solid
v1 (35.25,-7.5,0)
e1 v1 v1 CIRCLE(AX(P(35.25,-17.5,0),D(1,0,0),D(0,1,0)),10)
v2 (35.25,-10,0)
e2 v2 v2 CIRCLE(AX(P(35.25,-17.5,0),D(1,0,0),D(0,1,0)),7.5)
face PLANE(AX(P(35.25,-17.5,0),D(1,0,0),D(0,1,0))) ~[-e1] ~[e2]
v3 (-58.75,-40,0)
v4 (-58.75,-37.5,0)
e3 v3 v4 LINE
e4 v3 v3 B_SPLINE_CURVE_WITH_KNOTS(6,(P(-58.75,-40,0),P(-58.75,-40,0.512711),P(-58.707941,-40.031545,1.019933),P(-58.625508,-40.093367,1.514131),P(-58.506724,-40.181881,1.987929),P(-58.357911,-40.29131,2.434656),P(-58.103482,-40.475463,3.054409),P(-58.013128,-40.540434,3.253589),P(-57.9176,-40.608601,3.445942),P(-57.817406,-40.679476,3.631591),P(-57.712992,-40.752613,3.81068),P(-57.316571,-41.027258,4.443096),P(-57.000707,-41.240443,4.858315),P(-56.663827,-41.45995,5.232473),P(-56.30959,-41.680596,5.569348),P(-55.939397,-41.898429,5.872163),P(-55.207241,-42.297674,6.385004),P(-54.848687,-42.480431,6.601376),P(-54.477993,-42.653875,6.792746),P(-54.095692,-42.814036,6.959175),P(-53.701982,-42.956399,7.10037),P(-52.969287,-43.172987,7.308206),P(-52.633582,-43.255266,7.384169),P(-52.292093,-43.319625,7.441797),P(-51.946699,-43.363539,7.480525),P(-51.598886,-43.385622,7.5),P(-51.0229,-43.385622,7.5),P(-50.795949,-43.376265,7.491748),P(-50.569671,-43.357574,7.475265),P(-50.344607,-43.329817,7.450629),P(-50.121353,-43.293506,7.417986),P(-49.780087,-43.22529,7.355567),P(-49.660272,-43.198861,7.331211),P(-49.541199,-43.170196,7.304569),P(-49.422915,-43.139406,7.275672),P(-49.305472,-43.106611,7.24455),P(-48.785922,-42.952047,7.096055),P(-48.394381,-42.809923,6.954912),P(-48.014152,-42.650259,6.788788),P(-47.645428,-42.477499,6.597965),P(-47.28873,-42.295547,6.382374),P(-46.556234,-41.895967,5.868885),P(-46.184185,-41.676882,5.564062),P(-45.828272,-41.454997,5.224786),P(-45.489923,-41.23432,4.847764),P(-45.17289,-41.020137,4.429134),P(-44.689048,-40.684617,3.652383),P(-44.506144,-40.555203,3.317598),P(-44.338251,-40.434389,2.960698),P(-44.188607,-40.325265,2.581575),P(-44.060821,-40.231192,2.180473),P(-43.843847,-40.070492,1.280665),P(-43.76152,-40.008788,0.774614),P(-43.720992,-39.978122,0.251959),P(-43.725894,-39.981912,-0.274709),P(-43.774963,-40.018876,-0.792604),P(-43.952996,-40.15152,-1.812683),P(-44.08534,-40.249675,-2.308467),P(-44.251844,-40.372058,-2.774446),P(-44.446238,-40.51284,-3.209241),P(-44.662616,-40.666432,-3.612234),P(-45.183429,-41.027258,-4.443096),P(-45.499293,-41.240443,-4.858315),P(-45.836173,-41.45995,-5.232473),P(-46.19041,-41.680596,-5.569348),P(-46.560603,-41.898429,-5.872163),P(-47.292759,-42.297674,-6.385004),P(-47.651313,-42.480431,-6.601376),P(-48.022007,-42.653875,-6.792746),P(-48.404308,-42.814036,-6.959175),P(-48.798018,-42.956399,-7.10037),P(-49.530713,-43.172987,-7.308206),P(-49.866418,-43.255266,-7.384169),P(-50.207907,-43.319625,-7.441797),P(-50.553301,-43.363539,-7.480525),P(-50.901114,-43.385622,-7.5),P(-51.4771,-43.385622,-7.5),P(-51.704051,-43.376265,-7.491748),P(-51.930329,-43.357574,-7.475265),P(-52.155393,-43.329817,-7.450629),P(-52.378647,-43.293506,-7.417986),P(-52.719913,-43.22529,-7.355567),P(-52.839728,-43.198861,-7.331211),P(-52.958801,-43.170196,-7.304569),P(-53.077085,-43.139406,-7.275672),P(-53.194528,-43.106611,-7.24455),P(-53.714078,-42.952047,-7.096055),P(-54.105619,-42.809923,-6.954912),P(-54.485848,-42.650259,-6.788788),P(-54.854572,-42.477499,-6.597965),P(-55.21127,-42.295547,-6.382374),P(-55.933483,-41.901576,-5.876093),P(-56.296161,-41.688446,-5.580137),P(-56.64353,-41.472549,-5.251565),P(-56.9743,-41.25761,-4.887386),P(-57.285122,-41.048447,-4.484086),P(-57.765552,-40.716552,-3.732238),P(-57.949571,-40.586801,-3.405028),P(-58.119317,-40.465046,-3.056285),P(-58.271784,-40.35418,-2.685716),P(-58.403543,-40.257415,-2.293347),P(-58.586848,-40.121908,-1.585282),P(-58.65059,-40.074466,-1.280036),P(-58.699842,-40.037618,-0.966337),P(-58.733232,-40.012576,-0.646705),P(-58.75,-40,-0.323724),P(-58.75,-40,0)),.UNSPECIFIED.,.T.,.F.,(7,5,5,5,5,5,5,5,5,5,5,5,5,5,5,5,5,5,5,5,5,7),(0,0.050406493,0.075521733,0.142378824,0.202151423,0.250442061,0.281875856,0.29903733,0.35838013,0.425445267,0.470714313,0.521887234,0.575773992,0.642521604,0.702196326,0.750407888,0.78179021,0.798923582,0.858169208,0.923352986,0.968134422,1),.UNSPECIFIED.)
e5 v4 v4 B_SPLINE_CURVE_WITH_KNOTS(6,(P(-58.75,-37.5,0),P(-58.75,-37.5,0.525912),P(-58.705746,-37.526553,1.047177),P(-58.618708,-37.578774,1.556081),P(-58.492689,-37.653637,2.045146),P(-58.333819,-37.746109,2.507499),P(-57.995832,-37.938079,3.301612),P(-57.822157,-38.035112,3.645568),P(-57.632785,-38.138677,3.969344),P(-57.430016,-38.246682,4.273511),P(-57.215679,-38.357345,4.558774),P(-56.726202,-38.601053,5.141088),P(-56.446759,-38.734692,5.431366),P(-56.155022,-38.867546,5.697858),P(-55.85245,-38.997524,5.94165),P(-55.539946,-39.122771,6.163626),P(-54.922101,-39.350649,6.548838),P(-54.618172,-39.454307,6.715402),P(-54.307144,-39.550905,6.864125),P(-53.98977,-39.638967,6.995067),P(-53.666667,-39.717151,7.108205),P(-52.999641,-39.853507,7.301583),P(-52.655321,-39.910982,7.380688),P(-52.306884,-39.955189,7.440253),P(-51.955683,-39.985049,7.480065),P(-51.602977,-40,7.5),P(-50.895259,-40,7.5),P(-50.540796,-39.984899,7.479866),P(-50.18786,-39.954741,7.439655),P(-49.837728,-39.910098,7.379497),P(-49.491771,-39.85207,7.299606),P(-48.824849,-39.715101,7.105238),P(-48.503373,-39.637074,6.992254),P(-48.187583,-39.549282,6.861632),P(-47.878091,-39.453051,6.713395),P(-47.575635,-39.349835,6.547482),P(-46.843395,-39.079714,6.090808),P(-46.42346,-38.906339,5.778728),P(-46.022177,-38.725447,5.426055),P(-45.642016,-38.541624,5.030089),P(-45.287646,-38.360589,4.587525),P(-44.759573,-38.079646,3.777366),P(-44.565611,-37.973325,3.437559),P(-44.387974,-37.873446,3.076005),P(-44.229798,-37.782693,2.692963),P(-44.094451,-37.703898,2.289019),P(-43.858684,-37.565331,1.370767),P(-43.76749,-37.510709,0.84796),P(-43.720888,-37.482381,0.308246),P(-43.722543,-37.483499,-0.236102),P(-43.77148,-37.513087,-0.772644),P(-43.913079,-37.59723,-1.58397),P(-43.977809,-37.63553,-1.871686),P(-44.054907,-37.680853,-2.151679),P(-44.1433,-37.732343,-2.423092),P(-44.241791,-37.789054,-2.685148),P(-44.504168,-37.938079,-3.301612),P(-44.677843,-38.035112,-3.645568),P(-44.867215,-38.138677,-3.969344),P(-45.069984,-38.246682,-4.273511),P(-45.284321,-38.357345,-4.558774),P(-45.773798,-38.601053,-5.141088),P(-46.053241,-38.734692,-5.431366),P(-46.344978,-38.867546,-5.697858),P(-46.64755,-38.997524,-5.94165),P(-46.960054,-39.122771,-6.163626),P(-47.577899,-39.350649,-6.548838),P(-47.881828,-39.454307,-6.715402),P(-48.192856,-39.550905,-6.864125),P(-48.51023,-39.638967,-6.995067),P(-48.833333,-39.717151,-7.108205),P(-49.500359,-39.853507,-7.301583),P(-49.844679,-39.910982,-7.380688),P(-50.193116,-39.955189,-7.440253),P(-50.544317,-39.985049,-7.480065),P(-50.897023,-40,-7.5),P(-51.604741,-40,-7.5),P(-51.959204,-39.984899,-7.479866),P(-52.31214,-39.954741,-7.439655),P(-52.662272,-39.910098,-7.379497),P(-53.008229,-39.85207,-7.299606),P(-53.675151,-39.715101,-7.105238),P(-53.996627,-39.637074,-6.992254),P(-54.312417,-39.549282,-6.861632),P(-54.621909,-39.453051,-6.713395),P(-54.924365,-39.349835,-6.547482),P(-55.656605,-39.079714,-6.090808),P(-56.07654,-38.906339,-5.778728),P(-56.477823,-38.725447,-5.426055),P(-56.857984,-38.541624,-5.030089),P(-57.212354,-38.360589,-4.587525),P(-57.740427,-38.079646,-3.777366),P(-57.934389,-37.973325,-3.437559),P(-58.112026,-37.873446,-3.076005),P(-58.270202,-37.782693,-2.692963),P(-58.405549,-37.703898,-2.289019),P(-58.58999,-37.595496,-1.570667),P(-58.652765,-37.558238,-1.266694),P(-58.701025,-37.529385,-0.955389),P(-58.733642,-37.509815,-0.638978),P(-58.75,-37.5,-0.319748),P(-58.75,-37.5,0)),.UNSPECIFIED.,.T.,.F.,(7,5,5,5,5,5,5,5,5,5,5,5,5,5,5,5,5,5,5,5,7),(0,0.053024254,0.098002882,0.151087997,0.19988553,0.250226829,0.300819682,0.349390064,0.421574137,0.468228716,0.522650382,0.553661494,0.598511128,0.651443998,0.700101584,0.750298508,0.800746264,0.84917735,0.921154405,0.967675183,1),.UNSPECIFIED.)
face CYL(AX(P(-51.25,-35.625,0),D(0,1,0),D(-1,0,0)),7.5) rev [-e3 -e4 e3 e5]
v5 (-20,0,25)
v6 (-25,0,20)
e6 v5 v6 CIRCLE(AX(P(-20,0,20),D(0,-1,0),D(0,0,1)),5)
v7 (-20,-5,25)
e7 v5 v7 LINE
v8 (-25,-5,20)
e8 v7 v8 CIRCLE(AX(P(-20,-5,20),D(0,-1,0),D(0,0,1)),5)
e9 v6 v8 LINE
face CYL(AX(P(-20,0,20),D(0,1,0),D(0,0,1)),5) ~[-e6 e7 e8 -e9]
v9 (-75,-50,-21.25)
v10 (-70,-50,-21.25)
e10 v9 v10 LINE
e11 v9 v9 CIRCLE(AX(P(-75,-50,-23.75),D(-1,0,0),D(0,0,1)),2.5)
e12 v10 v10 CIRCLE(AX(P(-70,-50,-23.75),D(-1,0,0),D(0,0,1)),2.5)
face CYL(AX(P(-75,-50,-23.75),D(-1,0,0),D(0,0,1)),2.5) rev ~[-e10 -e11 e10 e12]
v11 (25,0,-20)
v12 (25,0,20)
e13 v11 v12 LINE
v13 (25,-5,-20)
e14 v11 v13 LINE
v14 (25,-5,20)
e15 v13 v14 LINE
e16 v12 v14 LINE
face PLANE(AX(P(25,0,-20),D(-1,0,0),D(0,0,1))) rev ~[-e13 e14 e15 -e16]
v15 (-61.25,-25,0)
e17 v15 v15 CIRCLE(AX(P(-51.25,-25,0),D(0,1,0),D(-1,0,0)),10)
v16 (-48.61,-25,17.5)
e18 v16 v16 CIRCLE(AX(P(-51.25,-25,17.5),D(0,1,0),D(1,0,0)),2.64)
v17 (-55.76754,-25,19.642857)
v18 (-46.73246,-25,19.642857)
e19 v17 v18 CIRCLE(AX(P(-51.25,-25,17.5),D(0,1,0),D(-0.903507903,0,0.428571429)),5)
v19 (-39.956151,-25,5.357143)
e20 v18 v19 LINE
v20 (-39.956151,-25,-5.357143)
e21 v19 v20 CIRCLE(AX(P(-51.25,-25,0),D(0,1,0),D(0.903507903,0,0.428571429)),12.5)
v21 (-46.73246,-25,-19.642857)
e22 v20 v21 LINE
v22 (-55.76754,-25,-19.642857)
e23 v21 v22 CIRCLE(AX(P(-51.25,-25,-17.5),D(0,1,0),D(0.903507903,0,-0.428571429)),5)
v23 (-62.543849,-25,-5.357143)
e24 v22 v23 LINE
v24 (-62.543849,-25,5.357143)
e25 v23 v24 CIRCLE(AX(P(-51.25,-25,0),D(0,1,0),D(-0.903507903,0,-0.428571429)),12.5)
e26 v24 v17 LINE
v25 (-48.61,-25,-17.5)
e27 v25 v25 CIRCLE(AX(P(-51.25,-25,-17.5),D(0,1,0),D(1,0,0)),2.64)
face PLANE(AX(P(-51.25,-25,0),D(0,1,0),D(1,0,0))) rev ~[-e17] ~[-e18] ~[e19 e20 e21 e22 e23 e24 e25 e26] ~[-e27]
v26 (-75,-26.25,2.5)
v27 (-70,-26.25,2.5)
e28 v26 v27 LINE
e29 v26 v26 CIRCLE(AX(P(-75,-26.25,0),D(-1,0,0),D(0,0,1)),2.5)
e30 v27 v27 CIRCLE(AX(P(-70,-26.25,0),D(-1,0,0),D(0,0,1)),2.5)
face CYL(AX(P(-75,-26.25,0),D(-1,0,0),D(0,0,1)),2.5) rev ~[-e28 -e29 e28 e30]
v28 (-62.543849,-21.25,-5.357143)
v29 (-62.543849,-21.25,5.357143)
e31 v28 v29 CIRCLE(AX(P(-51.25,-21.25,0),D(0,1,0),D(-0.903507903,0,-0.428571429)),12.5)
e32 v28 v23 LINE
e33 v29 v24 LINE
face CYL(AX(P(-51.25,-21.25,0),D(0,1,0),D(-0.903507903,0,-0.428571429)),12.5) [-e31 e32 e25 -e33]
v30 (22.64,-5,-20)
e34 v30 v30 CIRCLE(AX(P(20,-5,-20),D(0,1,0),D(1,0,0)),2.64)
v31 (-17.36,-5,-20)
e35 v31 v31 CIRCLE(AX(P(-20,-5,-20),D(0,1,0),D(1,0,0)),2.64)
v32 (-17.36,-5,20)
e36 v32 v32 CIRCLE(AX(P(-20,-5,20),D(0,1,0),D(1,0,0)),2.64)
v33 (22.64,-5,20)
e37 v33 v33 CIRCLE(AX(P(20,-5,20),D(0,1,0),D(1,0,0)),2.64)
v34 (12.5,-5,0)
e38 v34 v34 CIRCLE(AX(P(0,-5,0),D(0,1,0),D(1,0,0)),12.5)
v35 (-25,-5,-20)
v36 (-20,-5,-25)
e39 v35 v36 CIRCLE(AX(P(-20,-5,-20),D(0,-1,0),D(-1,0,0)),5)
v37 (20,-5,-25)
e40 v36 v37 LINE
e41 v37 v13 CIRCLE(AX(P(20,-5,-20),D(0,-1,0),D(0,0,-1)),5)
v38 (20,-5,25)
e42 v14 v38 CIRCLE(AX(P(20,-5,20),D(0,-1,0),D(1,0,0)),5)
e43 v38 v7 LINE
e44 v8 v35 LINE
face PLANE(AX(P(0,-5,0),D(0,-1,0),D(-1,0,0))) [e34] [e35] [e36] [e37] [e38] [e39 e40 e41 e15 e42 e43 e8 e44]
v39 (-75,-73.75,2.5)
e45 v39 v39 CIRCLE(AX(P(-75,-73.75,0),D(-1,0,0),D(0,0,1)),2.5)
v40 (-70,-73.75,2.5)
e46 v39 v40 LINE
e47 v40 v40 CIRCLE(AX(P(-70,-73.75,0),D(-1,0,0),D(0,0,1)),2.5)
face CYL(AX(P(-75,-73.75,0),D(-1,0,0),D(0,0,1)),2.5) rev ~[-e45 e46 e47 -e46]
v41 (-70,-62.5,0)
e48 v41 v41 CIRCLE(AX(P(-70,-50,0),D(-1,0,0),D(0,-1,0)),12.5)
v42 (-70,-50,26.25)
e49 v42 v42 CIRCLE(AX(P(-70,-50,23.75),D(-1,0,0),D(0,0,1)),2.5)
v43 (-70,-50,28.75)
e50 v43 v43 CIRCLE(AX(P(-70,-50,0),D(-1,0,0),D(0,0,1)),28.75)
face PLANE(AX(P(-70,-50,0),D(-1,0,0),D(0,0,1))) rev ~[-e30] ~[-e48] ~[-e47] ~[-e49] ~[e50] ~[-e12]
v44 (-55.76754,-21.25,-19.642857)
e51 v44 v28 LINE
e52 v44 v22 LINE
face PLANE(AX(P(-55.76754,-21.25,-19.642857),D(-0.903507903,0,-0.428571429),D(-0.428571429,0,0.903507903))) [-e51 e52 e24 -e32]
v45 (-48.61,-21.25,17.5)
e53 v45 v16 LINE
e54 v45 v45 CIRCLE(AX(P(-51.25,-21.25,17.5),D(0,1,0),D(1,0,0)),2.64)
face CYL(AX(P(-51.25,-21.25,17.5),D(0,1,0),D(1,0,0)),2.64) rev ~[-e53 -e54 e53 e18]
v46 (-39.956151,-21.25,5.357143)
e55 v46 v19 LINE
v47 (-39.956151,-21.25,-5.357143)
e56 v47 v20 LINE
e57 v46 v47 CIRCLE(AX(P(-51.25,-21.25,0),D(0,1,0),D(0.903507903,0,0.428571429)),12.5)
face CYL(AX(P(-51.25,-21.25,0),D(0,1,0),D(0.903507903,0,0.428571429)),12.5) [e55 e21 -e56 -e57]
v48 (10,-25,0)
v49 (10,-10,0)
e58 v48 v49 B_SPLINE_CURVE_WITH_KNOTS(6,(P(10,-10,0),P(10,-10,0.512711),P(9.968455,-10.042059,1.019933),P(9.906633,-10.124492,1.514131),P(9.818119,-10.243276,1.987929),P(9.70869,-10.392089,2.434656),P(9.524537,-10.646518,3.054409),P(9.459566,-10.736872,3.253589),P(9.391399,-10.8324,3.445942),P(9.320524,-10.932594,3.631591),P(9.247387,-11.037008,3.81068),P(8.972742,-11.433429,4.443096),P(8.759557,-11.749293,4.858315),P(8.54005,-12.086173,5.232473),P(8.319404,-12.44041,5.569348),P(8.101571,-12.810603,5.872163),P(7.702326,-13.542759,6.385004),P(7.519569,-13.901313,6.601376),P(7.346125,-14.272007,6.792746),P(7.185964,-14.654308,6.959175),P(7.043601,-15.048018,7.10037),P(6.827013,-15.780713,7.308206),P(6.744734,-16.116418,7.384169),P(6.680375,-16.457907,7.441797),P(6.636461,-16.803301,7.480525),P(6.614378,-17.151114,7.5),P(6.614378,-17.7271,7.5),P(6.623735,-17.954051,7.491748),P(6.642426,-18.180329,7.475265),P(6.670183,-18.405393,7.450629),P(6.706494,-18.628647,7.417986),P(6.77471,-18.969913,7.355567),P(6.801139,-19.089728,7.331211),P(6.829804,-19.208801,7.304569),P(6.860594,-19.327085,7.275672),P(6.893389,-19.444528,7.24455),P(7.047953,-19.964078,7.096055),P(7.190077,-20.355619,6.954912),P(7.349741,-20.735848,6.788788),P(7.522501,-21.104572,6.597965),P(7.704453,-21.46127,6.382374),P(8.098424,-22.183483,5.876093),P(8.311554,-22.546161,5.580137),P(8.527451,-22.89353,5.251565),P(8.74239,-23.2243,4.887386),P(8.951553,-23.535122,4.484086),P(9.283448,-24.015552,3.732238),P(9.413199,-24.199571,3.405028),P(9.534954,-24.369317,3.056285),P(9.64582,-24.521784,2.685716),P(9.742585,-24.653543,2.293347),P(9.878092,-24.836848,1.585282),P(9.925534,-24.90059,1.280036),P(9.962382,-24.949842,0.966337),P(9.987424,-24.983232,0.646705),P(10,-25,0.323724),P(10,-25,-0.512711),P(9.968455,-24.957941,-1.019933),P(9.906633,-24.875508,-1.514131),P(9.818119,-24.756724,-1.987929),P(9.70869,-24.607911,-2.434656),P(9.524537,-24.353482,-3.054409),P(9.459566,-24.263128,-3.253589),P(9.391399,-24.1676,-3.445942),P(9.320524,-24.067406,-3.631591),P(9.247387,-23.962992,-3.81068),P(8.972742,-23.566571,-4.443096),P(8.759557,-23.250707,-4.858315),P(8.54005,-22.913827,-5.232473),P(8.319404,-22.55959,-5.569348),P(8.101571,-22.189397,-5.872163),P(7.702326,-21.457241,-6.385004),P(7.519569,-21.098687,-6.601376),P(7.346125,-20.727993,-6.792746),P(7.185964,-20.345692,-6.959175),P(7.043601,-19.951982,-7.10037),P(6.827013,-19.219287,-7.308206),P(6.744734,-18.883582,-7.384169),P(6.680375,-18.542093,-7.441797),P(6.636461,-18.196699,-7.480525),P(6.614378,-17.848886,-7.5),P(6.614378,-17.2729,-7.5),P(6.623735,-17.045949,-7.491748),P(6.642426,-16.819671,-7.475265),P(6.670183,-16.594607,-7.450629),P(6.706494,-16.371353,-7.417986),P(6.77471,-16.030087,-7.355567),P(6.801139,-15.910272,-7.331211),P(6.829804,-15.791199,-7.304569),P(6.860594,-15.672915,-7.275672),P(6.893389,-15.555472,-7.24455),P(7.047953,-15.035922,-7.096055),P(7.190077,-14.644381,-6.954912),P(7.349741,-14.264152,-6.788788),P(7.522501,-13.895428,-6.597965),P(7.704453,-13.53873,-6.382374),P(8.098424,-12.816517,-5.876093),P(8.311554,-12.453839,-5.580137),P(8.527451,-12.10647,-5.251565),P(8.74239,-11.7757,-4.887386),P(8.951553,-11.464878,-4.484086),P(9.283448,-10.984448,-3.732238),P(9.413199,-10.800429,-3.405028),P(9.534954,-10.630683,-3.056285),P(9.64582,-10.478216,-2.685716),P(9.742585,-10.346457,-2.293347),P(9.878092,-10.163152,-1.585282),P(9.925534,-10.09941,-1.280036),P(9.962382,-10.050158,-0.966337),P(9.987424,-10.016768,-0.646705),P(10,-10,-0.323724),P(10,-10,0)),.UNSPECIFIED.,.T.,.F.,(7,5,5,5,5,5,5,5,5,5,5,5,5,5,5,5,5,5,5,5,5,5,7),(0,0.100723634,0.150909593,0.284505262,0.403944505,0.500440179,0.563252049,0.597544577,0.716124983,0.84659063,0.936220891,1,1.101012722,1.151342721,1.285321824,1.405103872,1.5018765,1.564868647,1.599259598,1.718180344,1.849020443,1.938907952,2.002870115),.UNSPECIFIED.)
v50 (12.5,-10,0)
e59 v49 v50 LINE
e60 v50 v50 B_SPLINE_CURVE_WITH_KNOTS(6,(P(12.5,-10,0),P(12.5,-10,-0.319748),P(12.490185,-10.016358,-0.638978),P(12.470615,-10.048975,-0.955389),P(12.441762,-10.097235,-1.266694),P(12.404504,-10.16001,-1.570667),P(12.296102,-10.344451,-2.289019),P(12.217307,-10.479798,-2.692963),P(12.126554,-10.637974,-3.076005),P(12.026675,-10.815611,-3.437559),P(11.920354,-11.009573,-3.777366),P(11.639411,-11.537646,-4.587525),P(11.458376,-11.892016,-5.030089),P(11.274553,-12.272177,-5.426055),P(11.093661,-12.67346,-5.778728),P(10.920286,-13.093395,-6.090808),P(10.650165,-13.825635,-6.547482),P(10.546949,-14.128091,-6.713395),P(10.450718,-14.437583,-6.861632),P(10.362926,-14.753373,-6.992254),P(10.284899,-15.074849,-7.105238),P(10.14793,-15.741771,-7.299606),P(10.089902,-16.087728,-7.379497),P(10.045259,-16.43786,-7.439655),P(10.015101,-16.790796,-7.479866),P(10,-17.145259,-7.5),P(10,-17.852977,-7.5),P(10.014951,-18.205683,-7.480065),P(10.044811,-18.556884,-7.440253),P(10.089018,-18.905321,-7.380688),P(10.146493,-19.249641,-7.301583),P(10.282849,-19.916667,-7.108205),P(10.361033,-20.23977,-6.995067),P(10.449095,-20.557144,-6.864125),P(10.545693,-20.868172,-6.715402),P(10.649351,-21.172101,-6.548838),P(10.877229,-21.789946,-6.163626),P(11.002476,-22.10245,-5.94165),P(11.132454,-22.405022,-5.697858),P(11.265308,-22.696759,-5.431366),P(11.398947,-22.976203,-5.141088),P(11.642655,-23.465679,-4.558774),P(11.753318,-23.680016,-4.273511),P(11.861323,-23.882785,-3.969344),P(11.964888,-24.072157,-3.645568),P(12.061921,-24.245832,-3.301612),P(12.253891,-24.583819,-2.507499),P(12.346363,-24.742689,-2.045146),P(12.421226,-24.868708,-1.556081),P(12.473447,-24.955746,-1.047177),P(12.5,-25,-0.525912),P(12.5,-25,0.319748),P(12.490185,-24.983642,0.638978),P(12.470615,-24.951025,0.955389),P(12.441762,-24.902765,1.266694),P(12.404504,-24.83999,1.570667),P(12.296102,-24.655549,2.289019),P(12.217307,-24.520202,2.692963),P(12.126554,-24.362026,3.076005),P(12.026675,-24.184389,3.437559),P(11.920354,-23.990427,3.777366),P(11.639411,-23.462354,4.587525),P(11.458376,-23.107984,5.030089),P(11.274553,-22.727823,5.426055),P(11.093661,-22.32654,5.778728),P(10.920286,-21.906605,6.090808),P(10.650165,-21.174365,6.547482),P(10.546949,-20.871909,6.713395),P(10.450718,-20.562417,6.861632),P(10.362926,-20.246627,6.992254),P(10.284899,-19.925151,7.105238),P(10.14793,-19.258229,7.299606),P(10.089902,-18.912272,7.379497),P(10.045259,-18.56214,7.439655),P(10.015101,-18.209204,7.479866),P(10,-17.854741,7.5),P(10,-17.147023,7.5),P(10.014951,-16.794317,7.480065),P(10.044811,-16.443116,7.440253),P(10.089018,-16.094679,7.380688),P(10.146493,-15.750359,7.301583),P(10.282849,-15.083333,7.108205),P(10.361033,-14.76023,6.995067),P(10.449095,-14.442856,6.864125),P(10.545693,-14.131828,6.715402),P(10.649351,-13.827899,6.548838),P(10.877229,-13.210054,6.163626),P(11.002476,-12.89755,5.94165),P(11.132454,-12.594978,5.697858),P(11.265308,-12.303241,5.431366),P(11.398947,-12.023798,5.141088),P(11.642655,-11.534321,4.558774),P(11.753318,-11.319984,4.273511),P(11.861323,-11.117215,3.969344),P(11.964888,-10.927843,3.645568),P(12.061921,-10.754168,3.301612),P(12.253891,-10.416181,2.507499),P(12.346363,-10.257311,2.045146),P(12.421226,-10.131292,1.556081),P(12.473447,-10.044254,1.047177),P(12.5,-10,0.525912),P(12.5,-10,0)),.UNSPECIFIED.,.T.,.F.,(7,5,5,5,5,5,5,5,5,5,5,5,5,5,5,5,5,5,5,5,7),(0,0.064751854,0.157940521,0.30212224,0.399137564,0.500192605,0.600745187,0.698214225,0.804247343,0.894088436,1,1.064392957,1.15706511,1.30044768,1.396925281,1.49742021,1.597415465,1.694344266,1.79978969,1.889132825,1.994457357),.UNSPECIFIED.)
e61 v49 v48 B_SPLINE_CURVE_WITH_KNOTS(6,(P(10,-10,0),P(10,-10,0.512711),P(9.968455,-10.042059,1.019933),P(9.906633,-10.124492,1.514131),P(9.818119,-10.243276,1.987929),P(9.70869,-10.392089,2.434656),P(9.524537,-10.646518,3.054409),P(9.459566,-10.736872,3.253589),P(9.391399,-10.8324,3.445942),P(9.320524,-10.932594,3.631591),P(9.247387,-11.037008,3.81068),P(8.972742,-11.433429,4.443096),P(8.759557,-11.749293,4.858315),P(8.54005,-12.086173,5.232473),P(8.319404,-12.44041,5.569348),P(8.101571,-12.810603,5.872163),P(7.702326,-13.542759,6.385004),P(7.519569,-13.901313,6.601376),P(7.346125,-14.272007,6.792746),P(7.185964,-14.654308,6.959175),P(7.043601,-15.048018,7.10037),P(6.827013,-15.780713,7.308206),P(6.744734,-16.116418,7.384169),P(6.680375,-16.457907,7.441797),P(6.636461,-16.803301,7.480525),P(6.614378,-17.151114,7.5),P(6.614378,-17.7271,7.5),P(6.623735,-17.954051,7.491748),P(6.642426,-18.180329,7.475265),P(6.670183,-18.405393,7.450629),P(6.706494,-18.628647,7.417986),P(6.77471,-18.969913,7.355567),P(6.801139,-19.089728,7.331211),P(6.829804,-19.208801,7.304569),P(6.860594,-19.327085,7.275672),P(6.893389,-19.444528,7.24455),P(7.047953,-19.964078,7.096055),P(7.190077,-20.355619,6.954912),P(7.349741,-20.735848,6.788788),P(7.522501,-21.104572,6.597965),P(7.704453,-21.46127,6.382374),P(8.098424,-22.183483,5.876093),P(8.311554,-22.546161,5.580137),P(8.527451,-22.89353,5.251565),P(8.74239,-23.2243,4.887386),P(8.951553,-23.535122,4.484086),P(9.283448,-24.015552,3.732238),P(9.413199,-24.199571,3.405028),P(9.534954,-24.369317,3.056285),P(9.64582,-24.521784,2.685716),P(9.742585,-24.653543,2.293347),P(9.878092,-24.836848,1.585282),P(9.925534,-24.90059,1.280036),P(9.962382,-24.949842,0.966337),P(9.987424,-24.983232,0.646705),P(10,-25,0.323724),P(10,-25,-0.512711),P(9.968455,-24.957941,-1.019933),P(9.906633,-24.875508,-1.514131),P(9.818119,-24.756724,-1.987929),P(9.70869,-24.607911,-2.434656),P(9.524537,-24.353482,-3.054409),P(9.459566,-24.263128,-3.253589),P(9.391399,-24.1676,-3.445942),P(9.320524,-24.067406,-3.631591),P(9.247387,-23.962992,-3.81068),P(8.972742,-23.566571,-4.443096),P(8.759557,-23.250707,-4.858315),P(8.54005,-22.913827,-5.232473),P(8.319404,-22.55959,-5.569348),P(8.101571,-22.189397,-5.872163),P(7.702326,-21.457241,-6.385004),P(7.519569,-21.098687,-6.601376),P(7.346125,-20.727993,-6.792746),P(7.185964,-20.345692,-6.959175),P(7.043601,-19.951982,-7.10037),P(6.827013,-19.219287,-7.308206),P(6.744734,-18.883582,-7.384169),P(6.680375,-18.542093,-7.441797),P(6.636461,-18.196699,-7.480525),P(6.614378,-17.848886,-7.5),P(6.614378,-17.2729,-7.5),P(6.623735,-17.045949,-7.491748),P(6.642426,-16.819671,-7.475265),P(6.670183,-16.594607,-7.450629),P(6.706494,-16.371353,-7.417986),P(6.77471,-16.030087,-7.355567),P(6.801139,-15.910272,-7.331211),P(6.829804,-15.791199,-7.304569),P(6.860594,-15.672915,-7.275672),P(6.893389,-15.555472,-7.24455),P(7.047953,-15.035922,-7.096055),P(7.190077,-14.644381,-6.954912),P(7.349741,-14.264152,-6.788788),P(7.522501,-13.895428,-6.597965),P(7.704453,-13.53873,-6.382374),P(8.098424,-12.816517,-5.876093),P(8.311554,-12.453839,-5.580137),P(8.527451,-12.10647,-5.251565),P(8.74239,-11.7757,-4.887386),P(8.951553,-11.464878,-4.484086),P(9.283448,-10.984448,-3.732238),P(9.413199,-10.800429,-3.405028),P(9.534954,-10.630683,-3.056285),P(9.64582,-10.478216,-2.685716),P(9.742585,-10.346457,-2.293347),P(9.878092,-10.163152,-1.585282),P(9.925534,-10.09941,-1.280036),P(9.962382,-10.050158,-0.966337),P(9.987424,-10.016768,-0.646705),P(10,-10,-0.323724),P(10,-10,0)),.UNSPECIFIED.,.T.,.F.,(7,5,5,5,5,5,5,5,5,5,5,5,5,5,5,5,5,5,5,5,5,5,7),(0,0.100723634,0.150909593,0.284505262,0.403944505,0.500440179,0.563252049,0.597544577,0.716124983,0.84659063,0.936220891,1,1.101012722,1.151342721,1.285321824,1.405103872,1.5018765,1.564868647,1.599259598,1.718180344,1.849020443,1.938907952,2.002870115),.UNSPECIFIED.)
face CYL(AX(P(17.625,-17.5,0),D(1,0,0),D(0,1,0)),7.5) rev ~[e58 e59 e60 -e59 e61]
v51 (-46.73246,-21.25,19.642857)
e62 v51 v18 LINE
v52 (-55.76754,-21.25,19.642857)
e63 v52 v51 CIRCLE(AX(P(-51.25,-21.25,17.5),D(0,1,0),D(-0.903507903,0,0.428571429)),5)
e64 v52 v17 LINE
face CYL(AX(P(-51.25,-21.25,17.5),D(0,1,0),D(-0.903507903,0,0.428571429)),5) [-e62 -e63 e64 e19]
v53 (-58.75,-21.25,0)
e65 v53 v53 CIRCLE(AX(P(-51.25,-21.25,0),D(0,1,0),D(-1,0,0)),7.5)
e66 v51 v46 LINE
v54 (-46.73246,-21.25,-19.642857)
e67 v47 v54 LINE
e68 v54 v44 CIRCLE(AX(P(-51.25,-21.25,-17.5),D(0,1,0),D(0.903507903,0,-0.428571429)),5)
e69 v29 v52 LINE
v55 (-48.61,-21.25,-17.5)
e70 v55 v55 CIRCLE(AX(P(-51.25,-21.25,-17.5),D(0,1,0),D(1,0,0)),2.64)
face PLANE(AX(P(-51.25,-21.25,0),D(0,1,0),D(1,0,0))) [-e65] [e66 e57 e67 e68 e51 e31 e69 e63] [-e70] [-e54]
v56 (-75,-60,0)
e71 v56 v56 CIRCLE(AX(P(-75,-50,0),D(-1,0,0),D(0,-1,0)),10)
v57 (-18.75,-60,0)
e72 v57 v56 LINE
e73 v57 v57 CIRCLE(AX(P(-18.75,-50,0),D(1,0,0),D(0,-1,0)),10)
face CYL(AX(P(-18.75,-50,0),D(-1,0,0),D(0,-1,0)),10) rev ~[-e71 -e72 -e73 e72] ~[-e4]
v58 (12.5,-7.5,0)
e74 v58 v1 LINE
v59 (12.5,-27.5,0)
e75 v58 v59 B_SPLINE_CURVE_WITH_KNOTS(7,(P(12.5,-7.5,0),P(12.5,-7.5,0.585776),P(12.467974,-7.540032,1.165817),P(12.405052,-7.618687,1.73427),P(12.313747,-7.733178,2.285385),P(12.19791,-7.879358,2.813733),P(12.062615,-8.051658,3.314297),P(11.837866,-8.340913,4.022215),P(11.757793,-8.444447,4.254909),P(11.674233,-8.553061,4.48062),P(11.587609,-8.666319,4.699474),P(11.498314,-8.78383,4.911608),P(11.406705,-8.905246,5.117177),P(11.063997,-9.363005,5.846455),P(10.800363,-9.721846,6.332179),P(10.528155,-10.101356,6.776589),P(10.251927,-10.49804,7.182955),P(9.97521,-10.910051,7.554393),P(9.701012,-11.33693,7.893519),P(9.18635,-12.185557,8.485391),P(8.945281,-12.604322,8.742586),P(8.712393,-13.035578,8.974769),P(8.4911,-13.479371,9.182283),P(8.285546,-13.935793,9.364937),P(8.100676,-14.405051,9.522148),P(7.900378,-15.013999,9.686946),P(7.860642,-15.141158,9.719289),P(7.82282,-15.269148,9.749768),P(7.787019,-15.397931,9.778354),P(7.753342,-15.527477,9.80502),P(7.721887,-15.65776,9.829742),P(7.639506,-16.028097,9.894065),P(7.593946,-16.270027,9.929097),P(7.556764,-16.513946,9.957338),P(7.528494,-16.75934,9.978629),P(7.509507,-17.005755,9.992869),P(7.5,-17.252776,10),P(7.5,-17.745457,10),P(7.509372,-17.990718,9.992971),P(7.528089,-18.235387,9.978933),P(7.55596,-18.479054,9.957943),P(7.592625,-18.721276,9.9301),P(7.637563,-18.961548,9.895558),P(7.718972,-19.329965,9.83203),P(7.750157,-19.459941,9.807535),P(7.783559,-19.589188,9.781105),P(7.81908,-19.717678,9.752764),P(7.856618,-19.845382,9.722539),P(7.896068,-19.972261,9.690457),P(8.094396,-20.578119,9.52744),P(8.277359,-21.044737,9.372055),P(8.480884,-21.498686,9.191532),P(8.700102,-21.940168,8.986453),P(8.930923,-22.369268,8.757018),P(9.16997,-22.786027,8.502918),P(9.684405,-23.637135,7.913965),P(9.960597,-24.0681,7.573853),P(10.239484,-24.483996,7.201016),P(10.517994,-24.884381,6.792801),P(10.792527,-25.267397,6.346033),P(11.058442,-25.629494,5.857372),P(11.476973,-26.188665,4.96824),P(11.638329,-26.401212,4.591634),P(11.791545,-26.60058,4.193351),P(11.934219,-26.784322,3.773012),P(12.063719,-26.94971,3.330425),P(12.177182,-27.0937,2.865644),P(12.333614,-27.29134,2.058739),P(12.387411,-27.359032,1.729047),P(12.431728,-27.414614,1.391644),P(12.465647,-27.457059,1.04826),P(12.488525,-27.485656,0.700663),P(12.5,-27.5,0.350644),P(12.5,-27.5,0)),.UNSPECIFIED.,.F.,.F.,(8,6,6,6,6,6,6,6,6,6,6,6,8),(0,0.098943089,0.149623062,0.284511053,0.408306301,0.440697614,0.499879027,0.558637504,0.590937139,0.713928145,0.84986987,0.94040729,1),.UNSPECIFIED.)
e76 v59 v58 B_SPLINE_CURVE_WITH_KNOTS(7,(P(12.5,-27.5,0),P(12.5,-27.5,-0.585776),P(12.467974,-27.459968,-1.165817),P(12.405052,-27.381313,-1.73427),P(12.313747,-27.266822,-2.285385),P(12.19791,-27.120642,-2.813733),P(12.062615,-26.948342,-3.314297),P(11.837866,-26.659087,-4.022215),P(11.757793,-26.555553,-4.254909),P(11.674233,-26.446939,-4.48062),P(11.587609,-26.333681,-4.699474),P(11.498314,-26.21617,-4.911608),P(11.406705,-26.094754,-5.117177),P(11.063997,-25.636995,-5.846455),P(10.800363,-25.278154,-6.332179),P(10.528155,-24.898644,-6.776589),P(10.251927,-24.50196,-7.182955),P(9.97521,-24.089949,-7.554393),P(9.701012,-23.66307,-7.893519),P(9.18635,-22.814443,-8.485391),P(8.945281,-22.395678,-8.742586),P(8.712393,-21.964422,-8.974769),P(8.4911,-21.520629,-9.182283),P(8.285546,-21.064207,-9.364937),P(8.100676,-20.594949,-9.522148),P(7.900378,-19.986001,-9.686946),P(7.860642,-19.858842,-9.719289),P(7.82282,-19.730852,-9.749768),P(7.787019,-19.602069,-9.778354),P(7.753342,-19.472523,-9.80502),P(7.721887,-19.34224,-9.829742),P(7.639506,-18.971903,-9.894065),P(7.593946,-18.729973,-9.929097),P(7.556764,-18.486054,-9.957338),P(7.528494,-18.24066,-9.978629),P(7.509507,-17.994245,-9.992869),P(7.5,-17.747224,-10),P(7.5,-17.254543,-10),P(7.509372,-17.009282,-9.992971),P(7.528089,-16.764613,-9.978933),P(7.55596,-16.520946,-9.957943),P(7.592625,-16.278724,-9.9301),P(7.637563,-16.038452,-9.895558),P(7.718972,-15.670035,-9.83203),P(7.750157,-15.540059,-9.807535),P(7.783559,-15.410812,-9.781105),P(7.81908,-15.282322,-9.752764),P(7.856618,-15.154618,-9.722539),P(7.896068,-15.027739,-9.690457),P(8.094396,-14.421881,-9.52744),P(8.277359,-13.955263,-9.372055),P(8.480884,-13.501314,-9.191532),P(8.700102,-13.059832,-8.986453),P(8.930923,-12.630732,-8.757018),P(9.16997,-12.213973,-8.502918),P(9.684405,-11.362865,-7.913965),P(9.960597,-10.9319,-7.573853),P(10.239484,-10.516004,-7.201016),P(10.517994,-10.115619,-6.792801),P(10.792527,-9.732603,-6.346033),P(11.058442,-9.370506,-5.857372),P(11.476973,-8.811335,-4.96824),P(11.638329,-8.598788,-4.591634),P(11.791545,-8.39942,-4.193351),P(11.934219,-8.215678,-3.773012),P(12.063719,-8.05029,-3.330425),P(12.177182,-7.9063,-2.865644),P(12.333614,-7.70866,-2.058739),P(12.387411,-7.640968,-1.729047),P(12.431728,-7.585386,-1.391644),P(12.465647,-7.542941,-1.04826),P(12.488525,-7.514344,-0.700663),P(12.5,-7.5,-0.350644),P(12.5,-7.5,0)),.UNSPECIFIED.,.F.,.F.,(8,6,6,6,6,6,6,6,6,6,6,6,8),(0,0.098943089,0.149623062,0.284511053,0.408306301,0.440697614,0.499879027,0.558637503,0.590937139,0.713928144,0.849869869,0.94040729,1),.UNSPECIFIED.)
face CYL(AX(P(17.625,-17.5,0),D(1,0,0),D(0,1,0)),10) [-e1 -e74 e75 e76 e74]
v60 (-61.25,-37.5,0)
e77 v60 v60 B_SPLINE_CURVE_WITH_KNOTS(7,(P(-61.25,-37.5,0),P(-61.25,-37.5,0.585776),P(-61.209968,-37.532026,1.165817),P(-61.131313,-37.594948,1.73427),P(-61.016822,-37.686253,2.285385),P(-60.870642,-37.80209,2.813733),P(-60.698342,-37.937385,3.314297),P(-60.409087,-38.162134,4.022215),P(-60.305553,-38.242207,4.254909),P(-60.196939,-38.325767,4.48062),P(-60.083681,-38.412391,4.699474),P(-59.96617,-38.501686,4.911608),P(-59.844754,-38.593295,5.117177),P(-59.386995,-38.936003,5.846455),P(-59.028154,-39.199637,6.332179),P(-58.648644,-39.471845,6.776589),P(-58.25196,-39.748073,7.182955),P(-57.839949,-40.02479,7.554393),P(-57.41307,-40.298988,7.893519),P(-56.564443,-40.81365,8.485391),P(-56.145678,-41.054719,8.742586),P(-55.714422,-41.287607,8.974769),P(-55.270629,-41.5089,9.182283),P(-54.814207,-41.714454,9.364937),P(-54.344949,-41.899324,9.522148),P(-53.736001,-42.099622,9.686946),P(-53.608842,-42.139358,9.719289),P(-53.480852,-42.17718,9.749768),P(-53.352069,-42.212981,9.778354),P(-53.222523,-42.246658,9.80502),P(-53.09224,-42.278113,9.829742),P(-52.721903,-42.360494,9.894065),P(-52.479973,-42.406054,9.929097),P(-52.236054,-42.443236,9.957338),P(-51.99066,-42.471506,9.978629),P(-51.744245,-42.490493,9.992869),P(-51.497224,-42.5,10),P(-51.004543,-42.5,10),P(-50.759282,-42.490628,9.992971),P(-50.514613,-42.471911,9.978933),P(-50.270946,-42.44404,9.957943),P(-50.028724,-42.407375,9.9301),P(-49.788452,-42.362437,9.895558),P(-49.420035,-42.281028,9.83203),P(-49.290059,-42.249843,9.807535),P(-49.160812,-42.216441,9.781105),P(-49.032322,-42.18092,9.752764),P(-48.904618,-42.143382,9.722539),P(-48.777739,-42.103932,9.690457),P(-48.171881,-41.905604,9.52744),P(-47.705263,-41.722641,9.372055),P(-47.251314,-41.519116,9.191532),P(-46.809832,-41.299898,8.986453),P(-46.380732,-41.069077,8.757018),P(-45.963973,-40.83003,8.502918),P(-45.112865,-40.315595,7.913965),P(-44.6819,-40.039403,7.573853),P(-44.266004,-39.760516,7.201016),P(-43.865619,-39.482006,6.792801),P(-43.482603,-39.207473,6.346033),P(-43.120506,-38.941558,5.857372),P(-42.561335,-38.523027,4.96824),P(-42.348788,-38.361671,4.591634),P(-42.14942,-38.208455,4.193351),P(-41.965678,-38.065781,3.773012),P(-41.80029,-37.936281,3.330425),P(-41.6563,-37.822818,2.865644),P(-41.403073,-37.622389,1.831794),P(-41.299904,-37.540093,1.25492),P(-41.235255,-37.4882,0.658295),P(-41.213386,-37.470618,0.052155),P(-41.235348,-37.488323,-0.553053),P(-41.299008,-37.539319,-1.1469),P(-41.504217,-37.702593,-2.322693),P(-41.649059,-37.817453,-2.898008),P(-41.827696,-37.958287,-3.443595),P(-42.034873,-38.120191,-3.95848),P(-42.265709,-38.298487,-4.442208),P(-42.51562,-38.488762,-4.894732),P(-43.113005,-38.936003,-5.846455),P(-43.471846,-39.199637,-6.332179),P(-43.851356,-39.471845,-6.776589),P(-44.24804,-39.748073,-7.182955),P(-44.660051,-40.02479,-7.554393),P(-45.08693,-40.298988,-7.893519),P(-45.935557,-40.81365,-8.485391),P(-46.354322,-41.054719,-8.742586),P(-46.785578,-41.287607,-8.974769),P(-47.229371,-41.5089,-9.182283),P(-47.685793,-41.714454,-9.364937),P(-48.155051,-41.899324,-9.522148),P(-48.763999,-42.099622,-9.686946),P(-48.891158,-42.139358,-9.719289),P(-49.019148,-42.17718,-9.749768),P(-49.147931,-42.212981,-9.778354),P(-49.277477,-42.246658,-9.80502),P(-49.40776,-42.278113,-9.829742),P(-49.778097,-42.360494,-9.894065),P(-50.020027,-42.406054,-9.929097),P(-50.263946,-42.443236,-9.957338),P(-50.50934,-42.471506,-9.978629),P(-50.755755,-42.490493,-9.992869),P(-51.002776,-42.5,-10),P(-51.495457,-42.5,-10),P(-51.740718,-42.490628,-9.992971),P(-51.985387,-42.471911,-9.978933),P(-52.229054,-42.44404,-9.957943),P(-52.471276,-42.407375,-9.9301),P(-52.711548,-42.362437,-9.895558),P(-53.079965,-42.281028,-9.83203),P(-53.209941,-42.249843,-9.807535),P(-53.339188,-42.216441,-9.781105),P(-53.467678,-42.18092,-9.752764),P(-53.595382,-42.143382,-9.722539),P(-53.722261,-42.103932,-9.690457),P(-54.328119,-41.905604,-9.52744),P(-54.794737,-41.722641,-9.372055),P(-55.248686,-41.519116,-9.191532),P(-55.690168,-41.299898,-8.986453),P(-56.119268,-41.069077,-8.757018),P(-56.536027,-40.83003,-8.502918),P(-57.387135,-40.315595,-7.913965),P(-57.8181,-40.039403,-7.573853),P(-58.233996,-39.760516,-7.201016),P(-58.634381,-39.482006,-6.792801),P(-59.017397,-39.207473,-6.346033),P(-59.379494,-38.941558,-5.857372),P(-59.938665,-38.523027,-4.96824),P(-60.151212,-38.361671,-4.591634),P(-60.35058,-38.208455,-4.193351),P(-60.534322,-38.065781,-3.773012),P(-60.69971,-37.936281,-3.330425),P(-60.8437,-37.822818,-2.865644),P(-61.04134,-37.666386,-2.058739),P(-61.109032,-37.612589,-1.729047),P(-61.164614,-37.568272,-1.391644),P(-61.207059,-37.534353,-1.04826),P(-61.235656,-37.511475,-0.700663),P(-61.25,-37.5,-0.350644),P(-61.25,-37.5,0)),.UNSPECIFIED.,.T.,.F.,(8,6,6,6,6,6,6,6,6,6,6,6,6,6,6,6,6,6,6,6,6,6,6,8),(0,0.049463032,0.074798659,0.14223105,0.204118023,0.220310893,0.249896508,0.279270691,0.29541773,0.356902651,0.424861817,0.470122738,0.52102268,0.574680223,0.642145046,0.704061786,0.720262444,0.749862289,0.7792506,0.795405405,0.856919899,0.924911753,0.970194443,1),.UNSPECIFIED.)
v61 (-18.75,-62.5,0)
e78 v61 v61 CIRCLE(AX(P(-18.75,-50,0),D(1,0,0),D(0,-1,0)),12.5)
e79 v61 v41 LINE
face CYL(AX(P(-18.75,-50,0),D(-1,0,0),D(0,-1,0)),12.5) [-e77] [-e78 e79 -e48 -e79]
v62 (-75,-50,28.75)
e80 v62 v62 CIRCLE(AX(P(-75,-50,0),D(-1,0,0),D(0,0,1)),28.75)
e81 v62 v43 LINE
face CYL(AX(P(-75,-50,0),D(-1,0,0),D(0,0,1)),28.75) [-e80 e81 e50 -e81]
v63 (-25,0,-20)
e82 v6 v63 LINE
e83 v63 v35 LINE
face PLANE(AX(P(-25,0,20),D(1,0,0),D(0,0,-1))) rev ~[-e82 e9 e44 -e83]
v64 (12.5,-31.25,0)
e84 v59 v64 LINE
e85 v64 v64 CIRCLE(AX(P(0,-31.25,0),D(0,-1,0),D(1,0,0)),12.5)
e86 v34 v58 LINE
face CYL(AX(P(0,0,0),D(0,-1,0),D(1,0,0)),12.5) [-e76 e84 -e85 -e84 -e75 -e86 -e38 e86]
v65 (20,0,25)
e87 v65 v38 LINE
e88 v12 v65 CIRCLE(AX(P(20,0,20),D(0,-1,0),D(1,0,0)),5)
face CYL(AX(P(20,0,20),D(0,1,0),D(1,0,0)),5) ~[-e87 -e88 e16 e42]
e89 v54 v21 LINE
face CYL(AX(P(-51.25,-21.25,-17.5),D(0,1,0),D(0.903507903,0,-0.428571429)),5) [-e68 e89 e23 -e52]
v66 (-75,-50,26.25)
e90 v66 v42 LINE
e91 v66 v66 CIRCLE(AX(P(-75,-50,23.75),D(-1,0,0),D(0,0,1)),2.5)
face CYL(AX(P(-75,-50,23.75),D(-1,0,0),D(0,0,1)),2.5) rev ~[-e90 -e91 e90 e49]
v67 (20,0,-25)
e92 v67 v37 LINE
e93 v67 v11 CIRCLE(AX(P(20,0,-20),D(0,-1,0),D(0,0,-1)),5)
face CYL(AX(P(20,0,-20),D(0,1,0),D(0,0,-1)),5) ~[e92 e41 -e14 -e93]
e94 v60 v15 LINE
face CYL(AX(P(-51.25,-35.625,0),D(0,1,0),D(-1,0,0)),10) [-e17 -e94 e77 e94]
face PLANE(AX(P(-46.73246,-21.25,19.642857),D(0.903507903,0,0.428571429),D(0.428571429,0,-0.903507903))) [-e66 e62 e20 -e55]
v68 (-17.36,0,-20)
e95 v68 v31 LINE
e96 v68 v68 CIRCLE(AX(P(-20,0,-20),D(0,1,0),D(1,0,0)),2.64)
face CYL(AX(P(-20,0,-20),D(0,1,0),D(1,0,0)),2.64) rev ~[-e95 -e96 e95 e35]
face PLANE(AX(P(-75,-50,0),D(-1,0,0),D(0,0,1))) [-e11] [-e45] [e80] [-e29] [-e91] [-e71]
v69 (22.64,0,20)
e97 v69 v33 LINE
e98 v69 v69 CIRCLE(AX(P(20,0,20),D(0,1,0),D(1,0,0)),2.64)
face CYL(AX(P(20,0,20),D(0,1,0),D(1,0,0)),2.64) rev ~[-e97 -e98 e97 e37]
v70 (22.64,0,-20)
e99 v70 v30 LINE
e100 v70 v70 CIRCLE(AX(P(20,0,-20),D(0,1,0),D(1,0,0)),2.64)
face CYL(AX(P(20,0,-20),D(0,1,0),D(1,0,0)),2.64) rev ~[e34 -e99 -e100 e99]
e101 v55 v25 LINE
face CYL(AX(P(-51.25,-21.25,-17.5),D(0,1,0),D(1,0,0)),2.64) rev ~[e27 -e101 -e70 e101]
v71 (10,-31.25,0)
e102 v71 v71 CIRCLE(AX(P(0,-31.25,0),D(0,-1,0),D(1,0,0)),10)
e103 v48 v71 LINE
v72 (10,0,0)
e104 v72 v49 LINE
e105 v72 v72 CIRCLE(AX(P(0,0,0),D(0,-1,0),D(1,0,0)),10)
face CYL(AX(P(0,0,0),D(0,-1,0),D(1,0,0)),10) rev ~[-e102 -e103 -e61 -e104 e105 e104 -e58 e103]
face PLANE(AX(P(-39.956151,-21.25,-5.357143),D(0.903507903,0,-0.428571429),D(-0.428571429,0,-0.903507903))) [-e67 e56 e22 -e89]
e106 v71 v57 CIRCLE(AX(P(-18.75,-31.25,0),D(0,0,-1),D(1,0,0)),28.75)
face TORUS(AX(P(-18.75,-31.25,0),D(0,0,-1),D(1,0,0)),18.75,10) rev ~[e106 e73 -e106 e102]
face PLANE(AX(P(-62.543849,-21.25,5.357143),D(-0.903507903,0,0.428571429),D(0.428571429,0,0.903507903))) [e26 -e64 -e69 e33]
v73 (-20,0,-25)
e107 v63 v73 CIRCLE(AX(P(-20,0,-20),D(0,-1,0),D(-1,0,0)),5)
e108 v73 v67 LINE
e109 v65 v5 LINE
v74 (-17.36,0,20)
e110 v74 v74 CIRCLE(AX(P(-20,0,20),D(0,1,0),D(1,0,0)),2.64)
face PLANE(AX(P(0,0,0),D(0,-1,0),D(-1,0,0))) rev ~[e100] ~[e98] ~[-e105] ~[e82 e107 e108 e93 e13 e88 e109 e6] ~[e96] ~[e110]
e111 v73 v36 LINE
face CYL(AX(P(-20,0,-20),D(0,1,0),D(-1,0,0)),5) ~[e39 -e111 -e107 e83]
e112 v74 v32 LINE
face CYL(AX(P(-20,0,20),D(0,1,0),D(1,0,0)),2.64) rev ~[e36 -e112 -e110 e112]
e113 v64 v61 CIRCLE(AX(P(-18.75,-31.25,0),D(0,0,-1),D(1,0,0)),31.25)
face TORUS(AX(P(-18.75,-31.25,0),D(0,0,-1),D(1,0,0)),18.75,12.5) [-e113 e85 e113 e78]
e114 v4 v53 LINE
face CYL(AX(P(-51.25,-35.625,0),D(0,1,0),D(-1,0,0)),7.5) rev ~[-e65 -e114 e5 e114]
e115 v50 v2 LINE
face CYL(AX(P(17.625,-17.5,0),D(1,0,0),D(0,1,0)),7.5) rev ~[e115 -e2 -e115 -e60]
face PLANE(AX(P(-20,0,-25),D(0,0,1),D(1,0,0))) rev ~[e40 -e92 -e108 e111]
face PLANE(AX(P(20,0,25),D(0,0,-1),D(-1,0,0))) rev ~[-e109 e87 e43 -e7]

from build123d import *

# Parameters (mm, degrees)
SKETCH1_R           = 12.5
SKETCH1_R_2         = 10
BOSS_EXTRUDE1_START = -5
SKETCH3_R           = 2.64
SKETCH3_R_2         = 12.5
BOSS_EXTRUDE1_DEPTH = 5
SKETCH4_W           = 35.25
SKETCH4_H           = 2.5
SKETCH5_W           = 35.25
SKETCH5_H           = 7.5
SKETCH7_W           = 2.5
SKETCH7_H           = 28.75
SKETCH8_W           = 7.5
SKETCH8_H           = 28.75
SKETCH9_R           = 2.64
SKETCH9_R_2         = 10
BOSS_EXTRUDE2_DEPTH = 3.75
SKETCH10_R          = 28.75
SKETCH10_R_2        = 2.5
SKETCH10_R_3        = 12.5
BOSS_EXTRUDE3_DEPTH = 5
SKETCH11_R          = 10


with BuildPart() as part:
    # Sweep1: sweep along a path in Sketch2
    with BuildLine(Plane.XY) as sweep1_path:
        Line((0, 0), (0, -31.25))
        ThreePointArc((0, -31.25), (-5.491747853, -44.508252147), (-18.75, -50))
        Line((-18.75, -50), (-75, -50))
    # Sketch1 → Sweep1 (sweep)
    with BuildSketch(Plane(origin=(0, 0, 0), x_dir=(1, 0, 0), z_dir=(0, 1, 0))):
        Circle(SKETCH1_R)
        Circle(SKETCH1_R_2, mode=Mode.SUBTRACT)
    sweep(path=sweep1_path.line)

    # Sketch3 → Boss-Extrude1 (add)
    with BuildSketch(Plane(origin=(0, 0, 0), x_dir=(1, 0, 0), z_dir=(0, 1, 0)).offset(BOSS_EXTRUDE1_START)):
        with BuildLine():
            Line((-20, 25), (20, 25))
            ThreePointArc((20, 25), (23.535533906, 23.535533906), (25, 20))
            Line((25, 20), (25, -20))
            ThreePointArc((25, -20), (23.535533906, -23.535533906), (20, -25))
            Line((20, -25), (-20, -25))
            ThreePointArc((-20, -25), (-23.535533906, -23.535533906), (-25, -20))
            Line((-25, -20), (-25, 20))
            ThreePointArc((-25, 20), (-23.535533906, 23.535533906), (-20, 25))
        make_face()
        with Locations((-20, 20)):
            Circle(SKETCH3_R, mode=Mode.SUBTRACT)
        with Locations((20, 20)):
            Circle(SKETCH3_R, mode=Mode.SUBTRACT)
        with Locations((-20, -20)):
            Circle(SKETCH3_R, mode=Mode.SUBTRACT)
        with Locations((20, -20)):
            Circle(SKETCH3_R, mode=Mode.SUBTRACT)
        Circle(SKETCH3_R_2, mode=Mode.SUBTRACT)
    extrude(amount=BOSS_EXTRUDE1_DEPTH)

    # Sketch4 → Revolve1 (revolve)
    with BuildSketch(Plane.XY):
        with Locations((17.625, -8.75)):
            Rectangle(SKETCH4_W, SKETCH4_H)
    revolve(axis=Axis((0, -17.5, 0), (1, 0, 0)))

    # Sketch5 → Cut-Revolve1 (revolve, cut)
    with BuildSketch(Plane.XY):
        with Locations((17.625, -13.75)):
            Rectangle(SKETCH5_W, SKETCH5_H)
    revolve(axis=Axis((0, -17.5, 0), (1, 0, 0)), mode=Mode.SUBTRACT)

    # Sketch7 → Revolve2 (revolve)
    with BuildSketch(Plane.XY):
        with Locations((-60, -35.625)):
            Rectangle(SKETCH7_W, SKETCH7_H)
    revolve(axis=Axis((-51.25, -50, 0), (0, 1, 0)))

    # Sketch8 → Cut-Revolve2 (revolve, cut)
    with BuildSketch(Plane.XY):
        with Locations((-55, -35.625)):
            Rectangle(SKETCH8_W, SKETCH8_H)
    revolve(axis=Axis((-51.25, -21.25, 0), (0, -1, 0)), mode=Mode.SUBTRACT)

    # Sketch9 → Boss-Extrude2 (add)
    with BuildSketch(Plane(origin=(0, -21.25, 0), x_dir=(1, 0, 0), z_dir=(0, 1, 0))):
        with BuildLine():
            Line((-55.767539515, 19.642857143), (-62.543848786, 5.357142857))
            ThreePointArc((-62.543848786, 5.357142857), (-63.75, 0), (-62.543848786, -5.357142857))
            Line((-62.543848786, -5.357142857), (-55.767539515, -19.642857143))
            ThreePointArc((-55.767539515, -19.642857143), (-51.25, -22.5), (-46.732460485, -19.642857143))
            Line((-46.732460485, -19.642857143), (-39.956151214, -5.357142857))
            ThreePointArc((-39.956151214, -5.357142857), (-38.75, 0), (-39.956151214, 5.357142857))
            Line((-39.956151214, 5.357142857), (-46.732460485, 19.642857143))
            ThreePointArc((-46.732460485, 19.642857143), (-51.25, 22.5), (-55.767539515, 19.642857143))
        make_face()
        with Locations((-51.25, 17.5)):
            Circle(SKETCH9_R, mode=Mode.SUBTRACT)
        with Locations((-51.25, -17.5)):
            Circle(SKETCH9_R, mode=Mode.SUBTRACT)
        with Locations((-51.25, 0)):
            Circle(SKETCH9_R_2, mode=Mode.SUBTRACT)
    extrude(amount=-BOSS_EXTRUDE2_DEPTH)

    # Sketch10 → Boss-Extrude3 (add)
    with BuildSketch(Plane.ZY.offset(75)):
        with Locations((0, -50)):
            Circle(SKETCH10_R)
        with Locations((0, -26.25)):
            Circle(SKETCH10_R_2, mode=Mode.SUBTRACT)
        with Locations((23.75, -50)):
            Circle(SKETCH10_R_2, mode=Mode.SUBTRACT)
        with Locations((0, -73.75)):
            Circle(SKETCH10_R_2, mode=Mode.SUBTRACT)
        with Locations((-23.75, -50)):
            Circle(SKETCH10_R_2, mode=Mode.SUBTRACT)
        with Locations((0, -50)):
            Circle(SKETCH10_R_3, mode=Mode.SUBTRACT)
    extrude(amount=-BOSS_EXTRUDE3_DEPTH)

    # Cut-Sweep1: sweep along a path in Sketch2<2>
    with BuildLine(Plane.XY) as cut_sweep1_path:
        Line((0, 0), (0, -31.25))
        ThreePointArc((0, -31.25), (-5.491747853, -44.508252147), (-18.75, -50))
        Line((-18.75, -50), (-75, -50))
    # Sketch11 → Cut-Sweep1 (sweep, cut)
    with BuildSketch(Plane(origin=(0, 0, 0), x_dir=(1, 0, 0), z_dir=(0, 1, 0))):
        Circle(SKETCH11_R)
    sweep(path=cut_sweep1_path.line, mode=Mode.SUBTRACT)


solid = part.part
